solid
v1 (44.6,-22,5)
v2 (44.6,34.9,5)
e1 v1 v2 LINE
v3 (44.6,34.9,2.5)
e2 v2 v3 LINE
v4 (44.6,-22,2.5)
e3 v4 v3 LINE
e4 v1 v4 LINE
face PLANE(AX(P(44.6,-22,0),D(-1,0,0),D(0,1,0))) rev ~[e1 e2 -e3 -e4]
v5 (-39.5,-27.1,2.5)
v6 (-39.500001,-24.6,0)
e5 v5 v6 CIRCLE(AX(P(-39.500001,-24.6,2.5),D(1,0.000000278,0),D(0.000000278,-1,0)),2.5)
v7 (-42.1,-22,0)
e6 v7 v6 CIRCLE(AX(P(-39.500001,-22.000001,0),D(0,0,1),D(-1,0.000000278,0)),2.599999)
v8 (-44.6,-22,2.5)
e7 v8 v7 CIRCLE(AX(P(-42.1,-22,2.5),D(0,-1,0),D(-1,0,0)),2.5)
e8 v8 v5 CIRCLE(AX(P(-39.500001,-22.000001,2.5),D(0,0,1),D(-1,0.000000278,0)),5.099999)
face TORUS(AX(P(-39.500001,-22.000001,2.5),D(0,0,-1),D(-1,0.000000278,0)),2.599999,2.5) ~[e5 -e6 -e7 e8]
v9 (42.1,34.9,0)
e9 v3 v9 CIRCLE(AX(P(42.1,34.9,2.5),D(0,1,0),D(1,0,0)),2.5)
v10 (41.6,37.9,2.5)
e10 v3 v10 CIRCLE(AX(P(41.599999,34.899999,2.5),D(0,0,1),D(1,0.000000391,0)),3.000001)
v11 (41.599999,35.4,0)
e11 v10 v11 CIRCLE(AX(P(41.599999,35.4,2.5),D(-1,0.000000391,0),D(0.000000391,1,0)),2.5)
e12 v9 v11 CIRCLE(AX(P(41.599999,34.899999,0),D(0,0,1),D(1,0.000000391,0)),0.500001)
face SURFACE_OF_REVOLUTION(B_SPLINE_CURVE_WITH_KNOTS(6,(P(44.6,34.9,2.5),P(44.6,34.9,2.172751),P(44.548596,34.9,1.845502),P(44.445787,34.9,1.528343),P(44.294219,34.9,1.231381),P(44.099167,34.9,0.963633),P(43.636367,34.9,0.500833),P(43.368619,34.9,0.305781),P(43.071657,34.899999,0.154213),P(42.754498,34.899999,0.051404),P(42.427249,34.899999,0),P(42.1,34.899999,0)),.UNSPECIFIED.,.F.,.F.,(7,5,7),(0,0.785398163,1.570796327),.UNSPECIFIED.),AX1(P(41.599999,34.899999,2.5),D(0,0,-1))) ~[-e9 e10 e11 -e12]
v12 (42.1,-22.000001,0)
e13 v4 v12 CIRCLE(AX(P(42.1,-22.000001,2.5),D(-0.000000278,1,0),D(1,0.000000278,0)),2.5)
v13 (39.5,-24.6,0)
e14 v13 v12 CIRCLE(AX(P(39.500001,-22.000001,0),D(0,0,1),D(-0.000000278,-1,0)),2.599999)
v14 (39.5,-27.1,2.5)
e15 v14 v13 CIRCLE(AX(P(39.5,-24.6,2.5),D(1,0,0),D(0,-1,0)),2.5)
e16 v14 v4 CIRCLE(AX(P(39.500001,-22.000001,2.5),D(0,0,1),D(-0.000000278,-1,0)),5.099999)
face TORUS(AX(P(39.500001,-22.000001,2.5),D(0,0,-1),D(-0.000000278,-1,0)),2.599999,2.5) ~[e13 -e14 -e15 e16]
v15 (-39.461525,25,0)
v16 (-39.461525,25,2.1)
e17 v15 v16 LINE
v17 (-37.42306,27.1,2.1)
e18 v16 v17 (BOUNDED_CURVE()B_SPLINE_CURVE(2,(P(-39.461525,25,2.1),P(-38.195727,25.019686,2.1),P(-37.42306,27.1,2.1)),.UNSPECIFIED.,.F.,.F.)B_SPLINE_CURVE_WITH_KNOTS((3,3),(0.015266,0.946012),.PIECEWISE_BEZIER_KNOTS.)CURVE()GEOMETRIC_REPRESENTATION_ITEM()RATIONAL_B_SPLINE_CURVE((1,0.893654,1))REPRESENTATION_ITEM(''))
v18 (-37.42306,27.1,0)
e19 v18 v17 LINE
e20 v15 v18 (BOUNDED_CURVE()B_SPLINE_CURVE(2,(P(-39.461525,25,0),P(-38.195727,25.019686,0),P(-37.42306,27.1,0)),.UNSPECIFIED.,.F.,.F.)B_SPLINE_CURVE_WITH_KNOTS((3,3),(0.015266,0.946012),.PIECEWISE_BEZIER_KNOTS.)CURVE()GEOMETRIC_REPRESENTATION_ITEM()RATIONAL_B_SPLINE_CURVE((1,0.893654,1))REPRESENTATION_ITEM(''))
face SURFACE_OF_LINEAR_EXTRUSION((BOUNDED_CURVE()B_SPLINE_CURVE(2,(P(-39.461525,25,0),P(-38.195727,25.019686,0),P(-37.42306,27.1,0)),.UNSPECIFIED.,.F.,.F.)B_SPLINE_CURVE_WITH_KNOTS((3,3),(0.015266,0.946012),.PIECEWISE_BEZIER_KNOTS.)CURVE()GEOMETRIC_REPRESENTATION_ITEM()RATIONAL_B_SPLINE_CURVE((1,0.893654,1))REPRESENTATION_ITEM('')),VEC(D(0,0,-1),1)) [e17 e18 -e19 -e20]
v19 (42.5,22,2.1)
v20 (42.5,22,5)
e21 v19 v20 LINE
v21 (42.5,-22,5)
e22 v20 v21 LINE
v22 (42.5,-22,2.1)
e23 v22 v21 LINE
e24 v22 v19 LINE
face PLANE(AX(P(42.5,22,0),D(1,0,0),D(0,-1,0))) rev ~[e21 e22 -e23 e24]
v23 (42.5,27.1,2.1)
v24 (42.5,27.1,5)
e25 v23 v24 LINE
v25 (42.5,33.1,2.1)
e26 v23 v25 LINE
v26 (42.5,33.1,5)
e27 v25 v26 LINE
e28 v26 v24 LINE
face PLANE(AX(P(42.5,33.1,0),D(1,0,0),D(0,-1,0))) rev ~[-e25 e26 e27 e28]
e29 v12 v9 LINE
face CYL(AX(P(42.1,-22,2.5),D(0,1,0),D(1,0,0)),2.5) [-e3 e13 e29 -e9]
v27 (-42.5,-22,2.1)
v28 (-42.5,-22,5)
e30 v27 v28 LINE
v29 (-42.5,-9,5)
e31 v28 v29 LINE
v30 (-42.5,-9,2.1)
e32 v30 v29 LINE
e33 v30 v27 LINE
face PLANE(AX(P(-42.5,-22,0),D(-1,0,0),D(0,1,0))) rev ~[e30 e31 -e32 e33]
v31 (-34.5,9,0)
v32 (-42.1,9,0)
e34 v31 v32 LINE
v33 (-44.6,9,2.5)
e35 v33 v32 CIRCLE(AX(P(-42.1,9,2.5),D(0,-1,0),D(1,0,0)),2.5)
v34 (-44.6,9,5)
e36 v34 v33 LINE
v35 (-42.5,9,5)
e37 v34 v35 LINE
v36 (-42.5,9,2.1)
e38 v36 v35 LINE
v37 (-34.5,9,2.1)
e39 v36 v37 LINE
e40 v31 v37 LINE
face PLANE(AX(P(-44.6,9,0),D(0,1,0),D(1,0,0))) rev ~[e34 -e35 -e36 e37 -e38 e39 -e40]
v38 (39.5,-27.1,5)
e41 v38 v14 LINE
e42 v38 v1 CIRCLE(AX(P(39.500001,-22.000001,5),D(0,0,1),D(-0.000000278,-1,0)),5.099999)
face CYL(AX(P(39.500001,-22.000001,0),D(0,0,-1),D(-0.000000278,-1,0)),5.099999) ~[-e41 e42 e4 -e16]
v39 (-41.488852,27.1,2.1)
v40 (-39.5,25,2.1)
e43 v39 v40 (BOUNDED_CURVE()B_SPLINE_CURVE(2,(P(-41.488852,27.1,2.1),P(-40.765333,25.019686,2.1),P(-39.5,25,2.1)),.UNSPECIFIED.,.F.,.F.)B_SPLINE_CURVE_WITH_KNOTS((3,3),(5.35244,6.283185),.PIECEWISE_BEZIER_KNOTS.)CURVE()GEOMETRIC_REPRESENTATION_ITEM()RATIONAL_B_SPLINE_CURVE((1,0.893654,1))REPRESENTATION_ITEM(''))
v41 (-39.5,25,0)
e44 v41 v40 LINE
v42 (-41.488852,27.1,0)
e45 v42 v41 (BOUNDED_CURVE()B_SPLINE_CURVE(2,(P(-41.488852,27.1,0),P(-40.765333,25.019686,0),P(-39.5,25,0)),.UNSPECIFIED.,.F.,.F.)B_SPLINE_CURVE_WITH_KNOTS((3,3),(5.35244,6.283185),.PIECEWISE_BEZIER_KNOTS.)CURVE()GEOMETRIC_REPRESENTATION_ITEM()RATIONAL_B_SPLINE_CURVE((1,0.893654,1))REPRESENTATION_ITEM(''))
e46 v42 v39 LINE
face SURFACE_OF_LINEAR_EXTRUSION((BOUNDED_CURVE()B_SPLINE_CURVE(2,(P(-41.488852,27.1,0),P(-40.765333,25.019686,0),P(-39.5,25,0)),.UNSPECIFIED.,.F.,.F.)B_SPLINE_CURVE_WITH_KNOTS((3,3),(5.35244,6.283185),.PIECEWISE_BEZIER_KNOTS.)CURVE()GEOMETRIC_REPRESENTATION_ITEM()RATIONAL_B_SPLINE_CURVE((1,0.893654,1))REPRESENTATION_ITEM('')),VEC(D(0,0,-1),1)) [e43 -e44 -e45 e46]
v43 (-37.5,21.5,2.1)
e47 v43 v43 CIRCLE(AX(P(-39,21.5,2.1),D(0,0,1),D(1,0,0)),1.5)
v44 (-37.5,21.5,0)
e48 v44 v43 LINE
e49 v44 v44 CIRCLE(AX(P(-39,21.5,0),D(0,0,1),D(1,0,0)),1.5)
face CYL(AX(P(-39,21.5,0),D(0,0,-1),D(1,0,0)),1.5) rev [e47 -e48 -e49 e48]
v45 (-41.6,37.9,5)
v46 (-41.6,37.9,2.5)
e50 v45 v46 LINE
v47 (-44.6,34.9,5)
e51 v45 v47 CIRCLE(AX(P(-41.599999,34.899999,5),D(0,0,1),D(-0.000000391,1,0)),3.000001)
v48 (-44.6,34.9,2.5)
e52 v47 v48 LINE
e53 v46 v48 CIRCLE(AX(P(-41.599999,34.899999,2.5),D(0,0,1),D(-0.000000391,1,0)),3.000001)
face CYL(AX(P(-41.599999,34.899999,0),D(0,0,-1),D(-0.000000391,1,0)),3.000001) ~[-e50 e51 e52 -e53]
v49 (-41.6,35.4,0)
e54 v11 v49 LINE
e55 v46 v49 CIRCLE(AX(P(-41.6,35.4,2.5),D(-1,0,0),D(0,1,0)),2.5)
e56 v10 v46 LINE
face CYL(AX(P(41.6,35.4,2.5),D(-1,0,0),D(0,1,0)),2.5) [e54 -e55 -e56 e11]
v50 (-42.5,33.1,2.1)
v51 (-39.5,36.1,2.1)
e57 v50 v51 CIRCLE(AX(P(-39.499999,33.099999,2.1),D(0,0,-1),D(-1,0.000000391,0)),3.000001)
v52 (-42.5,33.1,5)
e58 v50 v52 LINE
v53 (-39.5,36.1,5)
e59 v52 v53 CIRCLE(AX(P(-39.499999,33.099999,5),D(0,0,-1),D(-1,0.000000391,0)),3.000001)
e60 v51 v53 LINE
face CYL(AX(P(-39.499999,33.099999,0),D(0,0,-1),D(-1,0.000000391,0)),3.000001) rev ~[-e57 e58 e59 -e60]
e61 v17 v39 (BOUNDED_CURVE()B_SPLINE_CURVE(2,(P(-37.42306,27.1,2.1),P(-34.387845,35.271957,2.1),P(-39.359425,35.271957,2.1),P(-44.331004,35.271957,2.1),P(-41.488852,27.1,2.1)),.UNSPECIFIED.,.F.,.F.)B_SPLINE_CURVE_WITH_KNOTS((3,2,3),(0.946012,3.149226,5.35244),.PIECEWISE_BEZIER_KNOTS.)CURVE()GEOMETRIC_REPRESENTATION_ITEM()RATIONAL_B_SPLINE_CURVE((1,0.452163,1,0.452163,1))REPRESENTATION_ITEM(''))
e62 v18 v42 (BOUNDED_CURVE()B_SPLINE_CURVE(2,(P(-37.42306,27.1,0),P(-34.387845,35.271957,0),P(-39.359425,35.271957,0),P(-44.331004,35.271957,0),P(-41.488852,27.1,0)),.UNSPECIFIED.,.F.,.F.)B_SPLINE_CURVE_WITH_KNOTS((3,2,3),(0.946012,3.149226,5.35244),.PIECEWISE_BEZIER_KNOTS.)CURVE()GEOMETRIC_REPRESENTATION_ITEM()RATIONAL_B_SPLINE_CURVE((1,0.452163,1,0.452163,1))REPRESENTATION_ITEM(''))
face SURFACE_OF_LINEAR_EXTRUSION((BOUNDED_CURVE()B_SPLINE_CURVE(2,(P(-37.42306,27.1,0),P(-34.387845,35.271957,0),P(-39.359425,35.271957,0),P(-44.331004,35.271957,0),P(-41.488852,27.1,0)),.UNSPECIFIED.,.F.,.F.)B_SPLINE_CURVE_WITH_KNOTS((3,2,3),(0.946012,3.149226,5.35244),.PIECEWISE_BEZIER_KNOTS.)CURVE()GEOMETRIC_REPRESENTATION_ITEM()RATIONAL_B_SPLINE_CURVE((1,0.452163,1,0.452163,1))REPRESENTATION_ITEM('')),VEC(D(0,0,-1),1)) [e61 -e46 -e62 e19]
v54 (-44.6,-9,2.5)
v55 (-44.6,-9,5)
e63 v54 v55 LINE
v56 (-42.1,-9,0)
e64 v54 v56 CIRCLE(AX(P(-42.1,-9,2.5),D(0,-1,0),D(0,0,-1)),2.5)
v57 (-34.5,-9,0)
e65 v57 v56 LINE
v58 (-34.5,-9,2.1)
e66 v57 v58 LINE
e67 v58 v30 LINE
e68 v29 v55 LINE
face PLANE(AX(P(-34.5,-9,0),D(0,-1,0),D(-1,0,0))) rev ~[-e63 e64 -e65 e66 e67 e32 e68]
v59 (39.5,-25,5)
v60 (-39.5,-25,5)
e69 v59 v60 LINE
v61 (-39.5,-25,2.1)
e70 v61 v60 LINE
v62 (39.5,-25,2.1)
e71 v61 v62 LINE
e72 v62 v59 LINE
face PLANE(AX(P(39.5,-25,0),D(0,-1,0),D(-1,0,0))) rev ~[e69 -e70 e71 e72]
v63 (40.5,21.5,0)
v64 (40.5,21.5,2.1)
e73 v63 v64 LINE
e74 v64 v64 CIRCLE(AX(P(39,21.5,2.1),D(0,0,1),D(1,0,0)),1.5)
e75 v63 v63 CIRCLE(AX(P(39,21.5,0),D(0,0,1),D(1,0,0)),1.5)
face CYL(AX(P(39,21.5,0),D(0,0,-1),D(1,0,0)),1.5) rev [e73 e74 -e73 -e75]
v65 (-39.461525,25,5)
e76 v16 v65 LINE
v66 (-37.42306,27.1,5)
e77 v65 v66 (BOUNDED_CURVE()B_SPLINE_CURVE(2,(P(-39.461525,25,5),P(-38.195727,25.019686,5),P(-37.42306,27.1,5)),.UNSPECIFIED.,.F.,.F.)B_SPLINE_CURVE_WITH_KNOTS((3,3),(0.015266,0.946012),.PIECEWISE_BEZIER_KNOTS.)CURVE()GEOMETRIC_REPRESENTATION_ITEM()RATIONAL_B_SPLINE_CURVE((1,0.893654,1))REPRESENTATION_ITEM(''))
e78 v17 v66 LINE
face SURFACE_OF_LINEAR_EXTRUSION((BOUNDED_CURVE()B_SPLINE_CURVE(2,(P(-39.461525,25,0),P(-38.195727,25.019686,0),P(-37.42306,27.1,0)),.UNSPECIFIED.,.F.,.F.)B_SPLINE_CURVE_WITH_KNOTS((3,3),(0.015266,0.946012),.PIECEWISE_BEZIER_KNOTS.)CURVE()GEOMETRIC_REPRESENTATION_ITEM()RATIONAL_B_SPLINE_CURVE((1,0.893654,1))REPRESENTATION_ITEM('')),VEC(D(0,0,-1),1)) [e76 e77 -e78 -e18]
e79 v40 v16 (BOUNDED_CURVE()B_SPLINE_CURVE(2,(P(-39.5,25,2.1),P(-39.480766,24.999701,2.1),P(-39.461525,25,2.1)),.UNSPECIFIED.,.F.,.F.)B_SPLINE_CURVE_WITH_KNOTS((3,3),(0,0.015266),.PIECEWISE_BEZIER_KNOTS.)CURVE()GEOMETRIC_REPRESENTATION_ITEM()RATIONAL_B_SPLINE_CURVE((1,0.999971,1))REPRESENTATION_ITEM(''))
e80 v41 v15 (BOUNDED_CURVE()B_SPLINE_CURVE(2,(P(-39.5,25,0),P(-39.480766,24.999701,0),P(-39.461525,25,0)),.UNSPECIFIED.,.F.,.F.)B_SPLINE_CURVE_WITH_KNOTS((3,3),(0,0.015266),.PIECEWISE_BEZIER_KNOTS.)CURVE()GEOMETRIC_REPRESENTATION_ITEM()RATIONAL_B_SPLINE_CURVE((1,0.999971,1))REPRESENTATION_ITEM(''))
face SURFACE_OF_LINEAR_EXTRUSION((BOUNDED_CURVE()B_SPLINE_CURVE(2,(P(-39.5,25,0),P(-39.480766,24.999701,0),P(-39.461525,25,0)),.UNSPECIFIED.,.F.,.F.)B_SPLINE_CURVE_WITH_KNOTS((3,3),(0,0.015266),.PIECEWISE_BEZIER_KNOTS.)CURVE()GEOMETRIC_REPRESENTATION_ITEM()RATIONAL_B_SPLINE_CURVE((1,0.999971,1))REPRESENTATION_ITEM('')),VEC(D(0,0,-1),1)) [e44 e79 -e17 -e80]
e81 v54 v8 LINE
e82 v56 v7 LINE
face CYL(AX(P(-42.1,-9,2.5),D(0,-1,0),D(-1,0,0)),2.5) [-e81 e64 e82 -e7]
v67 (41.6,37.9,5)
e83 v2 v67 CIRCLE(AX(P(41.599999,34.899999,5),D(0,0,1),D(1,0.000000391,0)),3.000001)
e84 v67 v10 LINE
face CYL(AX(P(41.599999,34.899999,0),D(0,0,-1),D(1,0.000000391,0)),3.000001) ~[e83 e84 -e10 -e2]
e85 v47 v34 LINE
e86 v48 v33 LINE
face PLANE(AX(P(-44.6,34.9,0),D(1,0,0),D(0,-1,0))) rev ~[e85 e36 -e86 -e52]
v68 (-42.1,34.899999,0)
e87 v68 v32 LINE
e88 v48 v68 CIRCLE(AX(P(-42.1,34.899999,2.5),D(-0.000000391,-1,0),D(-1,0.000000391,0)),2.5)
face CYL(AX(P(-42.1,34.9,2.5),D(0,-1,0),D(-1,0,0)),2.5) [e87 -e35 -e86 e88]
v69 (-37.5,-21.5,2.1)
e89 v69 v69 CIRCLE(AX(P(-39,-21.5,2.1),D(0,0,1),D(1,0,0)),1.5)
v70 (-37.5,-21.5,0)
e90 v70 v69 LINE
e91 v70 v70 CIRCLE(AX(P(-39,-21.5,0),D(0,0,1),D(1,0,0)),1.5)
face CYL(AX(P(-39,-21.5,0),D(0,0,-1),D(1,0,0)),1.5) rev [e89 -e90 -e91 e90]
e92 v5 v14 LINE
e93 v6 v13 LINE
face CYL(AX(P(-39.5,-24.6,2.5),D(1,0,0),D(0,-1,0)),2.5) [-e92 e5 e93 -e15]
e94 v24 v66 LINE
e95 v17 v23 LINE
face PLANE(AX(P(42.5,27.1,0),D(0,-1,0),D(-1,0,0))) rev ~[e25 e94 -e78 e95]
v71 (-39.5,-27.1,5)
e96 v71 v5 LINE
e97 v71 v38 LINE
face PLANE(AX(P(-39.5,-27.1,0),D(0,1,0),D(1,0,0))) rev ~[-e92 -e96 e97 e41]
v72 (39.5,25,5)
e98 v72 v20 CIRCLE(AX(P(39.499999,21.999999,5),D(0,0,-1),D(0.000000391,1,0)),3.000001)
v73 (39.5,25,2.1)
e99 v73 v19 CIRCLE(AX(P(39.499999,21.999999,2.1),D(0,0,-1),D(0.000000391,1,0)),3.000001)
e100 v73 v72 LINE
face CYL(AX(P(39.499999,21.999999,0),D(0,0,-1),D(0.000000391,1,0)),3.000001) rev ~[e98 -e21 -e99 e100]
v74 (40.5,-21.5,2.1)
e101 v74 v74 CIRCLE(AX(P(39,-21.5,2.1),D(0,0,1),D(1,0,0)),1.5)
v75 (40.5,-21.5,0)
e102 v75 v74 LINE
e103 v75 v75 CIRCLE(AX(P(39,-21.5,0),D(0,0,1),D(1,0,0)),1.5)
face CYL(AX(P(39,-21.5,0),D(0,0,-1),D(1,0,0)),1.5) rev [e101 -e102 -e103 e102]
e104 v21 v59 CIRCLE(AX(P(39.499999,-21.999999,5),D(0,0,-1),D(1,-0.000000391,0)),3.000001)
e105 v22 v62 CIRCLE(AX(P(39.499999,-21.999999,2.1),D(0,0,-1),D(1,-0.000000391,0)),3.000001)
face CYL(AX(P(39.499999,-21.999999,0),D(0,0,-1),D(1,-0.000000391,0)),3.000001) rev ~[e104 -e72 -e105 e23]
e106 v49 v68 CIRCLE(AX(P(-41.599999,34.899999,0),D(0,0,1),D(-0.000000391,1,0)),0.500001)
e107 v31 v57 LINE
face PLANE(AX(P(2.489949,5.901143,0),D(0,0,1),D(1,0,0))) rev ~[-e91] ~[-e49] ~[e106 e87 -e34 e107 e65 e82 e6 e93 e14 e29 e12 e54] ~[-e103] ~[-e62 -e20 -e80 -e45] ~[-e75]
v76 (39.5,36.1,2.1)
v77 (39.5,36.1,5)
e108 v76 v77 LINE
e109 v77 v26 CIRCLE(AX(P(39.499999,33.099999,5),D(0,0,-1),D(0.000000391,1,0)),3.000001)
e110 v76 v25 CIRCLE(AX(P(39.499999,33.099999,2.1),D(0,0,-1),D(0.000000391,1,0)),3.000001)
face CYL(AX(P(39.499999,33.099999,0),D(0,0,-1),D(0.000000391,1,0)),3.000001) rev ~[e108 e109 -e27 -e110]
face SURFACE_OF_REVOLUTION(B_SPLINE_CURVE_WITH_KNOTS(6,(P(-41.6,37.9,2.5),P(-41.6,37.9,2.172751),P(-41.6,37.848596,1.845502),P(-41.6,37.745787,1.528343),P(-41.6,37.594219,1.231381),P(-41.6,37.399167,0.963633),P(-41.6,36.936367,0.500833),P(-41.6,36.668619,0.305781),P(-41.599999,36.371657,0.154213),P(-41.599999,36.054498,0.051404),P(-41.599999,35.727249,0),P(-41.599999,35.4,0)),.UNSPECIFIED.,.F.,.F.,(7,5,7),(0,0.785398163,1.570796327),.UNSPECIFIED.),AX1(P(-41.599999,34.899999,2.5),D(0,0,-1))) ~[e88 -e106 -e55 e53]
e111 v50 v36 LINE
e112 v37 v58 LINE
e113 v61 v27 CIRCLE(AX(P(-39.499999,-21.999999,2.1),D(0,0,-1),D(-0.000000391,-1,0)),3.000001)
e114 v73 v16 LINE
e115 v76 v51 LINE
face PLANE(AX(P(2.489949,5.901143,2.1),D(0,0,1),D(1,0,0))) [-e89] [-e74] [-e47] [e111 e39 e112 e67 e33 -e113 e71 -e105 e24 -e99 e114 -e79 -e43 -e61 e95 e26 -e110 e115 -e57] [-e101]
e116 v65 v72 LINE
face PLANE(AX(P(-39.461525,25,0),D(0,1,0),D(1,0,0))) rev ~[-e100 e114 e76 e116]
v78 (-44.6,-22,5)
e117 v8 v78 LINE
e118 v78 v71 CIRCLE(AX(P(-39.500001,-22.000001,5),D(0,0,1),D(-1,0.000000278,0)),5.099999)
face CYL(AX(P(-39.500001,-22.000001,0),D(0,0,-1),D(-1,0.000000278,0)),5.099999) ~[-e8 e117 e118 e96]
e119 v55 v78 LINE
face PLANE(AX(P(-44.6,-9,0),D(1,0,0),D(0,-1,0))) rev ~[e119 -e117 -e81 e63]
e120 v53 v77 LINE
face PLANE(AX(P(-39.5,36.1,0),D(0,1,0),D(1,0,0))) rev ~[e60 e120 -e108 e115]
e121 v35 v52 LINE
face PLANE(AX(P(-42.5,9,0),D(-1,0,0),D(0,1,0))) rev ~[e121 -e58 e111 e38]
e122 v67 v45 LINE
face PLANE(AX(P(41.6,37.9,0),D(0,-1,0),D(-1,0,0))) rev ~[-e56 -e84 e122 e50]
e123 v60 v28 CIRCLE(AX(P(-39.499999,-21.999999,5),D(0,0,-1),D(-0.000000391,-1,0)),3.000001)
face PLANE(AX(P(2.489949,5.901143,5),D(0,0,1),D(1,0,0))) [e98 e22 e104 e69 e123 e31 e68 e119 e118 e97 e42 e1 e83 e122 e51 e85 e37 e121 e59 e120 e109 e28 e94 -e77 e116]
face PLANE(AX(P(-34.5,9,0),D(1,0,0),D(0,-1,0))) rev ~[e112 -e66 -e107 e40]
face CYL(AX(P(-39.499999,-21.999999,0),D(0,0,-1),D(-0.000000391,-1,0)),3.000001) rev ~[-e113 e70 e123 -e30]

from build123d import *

# Parameters (mm, degrees)
F0_R     = 1.5
F1_DEPTH = 2.1
F2_DEPTH = 5
F3_R     = 2.5


with BuildPart() as f1:
    # F0 (on Top) → F1 (new body)
    with BuildSketch(Plane.XY):
        with BuildLine():
            Line((39.5, -25), (34.5, -25))
            Line((34.5, -25), (-34.5, -25))
            Line((-34.5, -25), (-39.5, -25))
            ThreePointArc((-39.5, -25), (-41.62132, -24.12132), (-42.5, -22))
            Line((-42.5, -22), (-42.5, -9))
            Line((-42.5, -9), (-44.6, -9))
            Line((-44.6, -9), (-44.6, -22))
            ThreePointArc((-44.6, -22), (-43.106245, -25.606245), (-39.5, -27.1))
            Line((-39.5, -27.1), (39.5, -27.1))
            ThreePointArc((39.5, -27.1), (43.106245, -25.606245), (44.6, -22))
            Line((44.6, -22), (44.6, 22))
            Line((44.6, 22), (44.6, 34.9))
            ThreePointArc((44.6, 34.9), (43.72132, 37.02132), (41.6, 37.9))
            Line((41.6, 37.9), (0, 37.9))
            Line((0, 37.9), (-41.6, 37.9))
            ThreePointArc((-41.6, 37.9), (-43.72132, 37.02132), (-44.6, 34.9))
            Line((-44.6, 34.9), (-44.6, 22))
            Line((-44.6, 22), (-44.6, 9))
            Line((-44.6, 9), (-42.5, 9))
            Line((-42.5, 9), (-42.5, 22))
            Line((-42.5, 22), (-42.5, 27.1))
            Line((-42.5, 27.1), (-42.5, 33.1))
            ThreePointArc((-42.5, 33.1), (-41.62132, 35.22132), (-39.5, 36.1))
            Line((-39.5, 36.1), (0, 36.1))
            Line((0, 36.1), (39.5, 36.1))
            ThreePointArc((39.5, 36.1), (41.62132, 35.22132), (42.5, 33.1))
            Line((42.5, 33.1), (42.5, 27.1))
            Line((42.5, 27.1), (42.5, 22))
            Line((42.5, 22), (42.5, -22))
            ThreePointArc((42.5, -22), (41.62132, -24.12132), (39.5, -25))
        make_face()
        with BuildLine():
            Line((-34.5, 9), (-34.5, 25))
            Line((-34.5, 25), (-39.461525, 25))
            add(Edge.make_bspline(
                [(-39.5, 25), (-39.480766, 24.999701), (-39.461525, 25)],
                knots=[0, 0, 0, 0.015266, 0.015266, 0.015266], degree=2, weights=[1, 0.999971, 1]))
            ThreePointArc((-39.5, 25), (-41.62132, 24.12132), (-42.5, 22))
            Line((-42.5, 22), (-42.5, 9))
            Line((-42.5, 9), (-34.5, 9))
        make_face()
        with Locations((-39, 21.5)):
            Circle(F0_R, mode=Mode.SUBTRACT)
        with BuildLine():
            Line((-34.5, -25), (-34.5, -9))
            Line((-34.5, -9), (-42.5, -9))
            Line((-42.5, -9), (-42.5, -22))
            ThreePointArc((-42.5, -22), (-41.62132, -24.12132), (-39.5, -25))
            Line((-39.5, -25), (-34.5, -25))
        make_face()
        with Locations((-39, -21.5)):
            Circle(F0_R, mode=Mode.SUBTRACT)
        Polygon((34.5, 25), (-34.5, 25), (-34.5, 9), (-34.5, -9), (-34.5, -25), (34.5, -25), align=None)
        with BuildLine():
            Line((39.5, 25), (34.5, 25))
            Line((34.5, 25), (34.5, -25))
            Line((34.5, -25), (39.5, -25))
            ThreePointArc((39.5, -25), (41.62132, -24.12132), (42.5, -22))
            Line((42.5, -22), (42.5, 22))
            ThreePointArc((42.5, 22), (41.62132, 24.12132), (39.5, 25))
        make_face()
        with Locations((39, -21.5)):
            Circle(F0_R, mode=Mode.SUBTRACT)
        with Locations((39, 21.5)):
            Circle(F0_R, mode=Mode.SUBTRACT)
        with BuildLine():
            ThreePointArc((-42.5, 22), (-41.62132, 24.12132), (-39.5, 25))
            add(Edge.make_bspline(
                [(-41.488852, 27.1), (-40.765333, 25.019686), (-39.5, 25)],
                knots=[5.35244, 5.35244, 5.35244, 6.283185, 6.283185, 6.283185], degree=2, weights=[1, 0.893654, 1]))
            Line((-41.488852, 27.1), (-42.5, 27.1))
            Line((-42.5, 27.1), (-42.5, 22))
        make_face()
        with BuildLine():
            add(Edge.make_bspline(
                [(-37.42306, 27.1), (-34.387845, 35.271957), (-39.359425, 35.271957), (-44.331004, 35.271957), (-41.488852, 27.1)],
                knots=[0.946012, 0.946012, 0.946012, 3.149226, 3.149226, 5.35244, 5.35244, 5.35244], degree=2, weights=[1, 0.452163, 1, 0.452163, 1]))
            Line((-37.42306, 27.1), (39.5, 27.1))
            Line((39.5, 27.1), (42.5, 27.1))
            Line((42.5, 27.1), (42.5, 33.1))
            ThreePointArc((42.5, 33.1), (41.62132, 35.22132), (39.5, 36.1))
            Line((39.5, 36.1), (0, 36.1))
            Line((0, 36.1), (-39.5, 36.1))
            ThreePointArc((-39.5, 36.1), (-41.62132, 35.22132), (-42.5, 33.1))
            Line((-42.5, 33.1), (-42.5, 27.1))
            Line((-42.5, 27.1), (-41.488852, 27.1))
        make_face()
        with BuildLine():
            Line((-39.461525, 25), (-34.5, 25))
            Line((-34.5, 25), (34.5, 25))
            Line((34.5, 25), (39.5, 25))
            ThreePointArc((39.5, 25), (41.62132, 24.12132), (42.5, 22))
            Line((42.5, 22), (42.5, 27.1))
            Line((42.5, 27.1), (39.5, 27.1))
            Line((39.5, 27.1), (-37.42306, 27.1))
            add(Edge.make_bspline(
                [(-39.461525, 25), (-38.195727, 25.019686), (-37.42306, 27.1)],
                knots=[0.015266, 0.015266, 0.015266, 0.946012, 0.946012, 0.946012], degree=2, weights=[1, 0.893654, 1]))
        make_face()
    extrude(amount=F1_DEPTH)

    # F0 (on Top) → F2 (join)
    with BuildSketch(Plane.XY):
        with BuildLine():
            Line((39.5, -25), (34.5, -25))
            Line((34.5, -25), (-34.5, -25))
            Line((-34.5, -25), (-39.5, -25))
            ThreePointArc((-39.5, -25), (-41.62132, -24.12132), (-42.5, -22))
            Line((-42.5, -22), (-42.5, -9))
            Line((-42.5, -9), (-44.6, -9))
            Line((-44.6, -9), (-44.6, -22))
            ThreePointArc((-44.6, -22), (-43.106245, -25.606245), (-39.5, -27.1))
            Line((-39.5, -27.1), (39.5, -27.1))
            ThreePointArc((39.5, -27.1), (43.106245, -25.606245), (44.6, -22))
            Line((44.6, -22), (44.6, 22))
            Line((44.6, 22), (44.6, 34.9))
            ThreePointArc((44.6, 34.9), (43.72132, 37.02132), (41.6, 37.9))
            Line((41.6, 37.9), (0, 37.9))
            Line((0, 37.9), (-41.6, 37.9))
            ThreePointArc((-41.6, 37.9), (-43.72132, 37.02132), (-44.6, 34.9))
            Line((-44.6, 34.9), (-44.6, 22))
            Line((-44.6, 22), (-44.6, 9))
            Line((-44.6, 9), (-42.5, 9))
            Line((-42.5, 9), (-42.5, 22))
            Line((-42.5, 22), (-42.5, 27.1))
            Line((-42.5, 27.1), (-42.5, 33.1))
            ThreePointArc((-42.5, 33.1), (-41.62132, 35.22132), (-39.5, 36.1))
            Line((-39.5, 36.1), (0, 36.1))
            Line((0, 36.1), (39.5, 36.1))
            ThreePointArc((39.5, 36.1), (41.62132, 35.22132), (42.5, 33.1))
            Line((42.5, 33.1), (42.5, 27.1))
            Line((42.5, 27.1), (42.5, 22))
            Line((42.5, 22), (42.5, -22))
            ThreePointArc((42.5, -22), (41.62132, -24.12132), (39.5, -25))
        make_face()
        with BuildLine():
            Line((-39.461525, 25), (-34.5, 25))
            Line((-34.5, 25), (34.5, 25))
            Line((34.5, 25), (39.5, 25))
            ThreePointArc((39.5, 25), (41.62132, 24.12132), (42.5, 22))
            Line((42.5, 22), (42.5, 27.1))
            Line((42.5, 27.1), (39.5, 27.1))
            Line((39.5, 27.1), (-37.42306, 27.1))
            add(Edge.make_bspline(
                [(-39.461525, 25), (-38.195727, 25.019686), (-37.42306, 27.1)],
                knots=[0.015266, 0.015266, 0.015266, 0.946012, 0.946012, 0.946012], degree=2, weights=[1, 0.893654, 1]))
        make_face()
    extrude(amount=F2_DEPTH)

    # F3
    f3_edges = [f1.edges().sort_by_distance(p)[0] for p in [
        (44.6, 6.45, 0),
    ]]
    fillet(f3_edges, radius=F3_R)


solid = f1.part
